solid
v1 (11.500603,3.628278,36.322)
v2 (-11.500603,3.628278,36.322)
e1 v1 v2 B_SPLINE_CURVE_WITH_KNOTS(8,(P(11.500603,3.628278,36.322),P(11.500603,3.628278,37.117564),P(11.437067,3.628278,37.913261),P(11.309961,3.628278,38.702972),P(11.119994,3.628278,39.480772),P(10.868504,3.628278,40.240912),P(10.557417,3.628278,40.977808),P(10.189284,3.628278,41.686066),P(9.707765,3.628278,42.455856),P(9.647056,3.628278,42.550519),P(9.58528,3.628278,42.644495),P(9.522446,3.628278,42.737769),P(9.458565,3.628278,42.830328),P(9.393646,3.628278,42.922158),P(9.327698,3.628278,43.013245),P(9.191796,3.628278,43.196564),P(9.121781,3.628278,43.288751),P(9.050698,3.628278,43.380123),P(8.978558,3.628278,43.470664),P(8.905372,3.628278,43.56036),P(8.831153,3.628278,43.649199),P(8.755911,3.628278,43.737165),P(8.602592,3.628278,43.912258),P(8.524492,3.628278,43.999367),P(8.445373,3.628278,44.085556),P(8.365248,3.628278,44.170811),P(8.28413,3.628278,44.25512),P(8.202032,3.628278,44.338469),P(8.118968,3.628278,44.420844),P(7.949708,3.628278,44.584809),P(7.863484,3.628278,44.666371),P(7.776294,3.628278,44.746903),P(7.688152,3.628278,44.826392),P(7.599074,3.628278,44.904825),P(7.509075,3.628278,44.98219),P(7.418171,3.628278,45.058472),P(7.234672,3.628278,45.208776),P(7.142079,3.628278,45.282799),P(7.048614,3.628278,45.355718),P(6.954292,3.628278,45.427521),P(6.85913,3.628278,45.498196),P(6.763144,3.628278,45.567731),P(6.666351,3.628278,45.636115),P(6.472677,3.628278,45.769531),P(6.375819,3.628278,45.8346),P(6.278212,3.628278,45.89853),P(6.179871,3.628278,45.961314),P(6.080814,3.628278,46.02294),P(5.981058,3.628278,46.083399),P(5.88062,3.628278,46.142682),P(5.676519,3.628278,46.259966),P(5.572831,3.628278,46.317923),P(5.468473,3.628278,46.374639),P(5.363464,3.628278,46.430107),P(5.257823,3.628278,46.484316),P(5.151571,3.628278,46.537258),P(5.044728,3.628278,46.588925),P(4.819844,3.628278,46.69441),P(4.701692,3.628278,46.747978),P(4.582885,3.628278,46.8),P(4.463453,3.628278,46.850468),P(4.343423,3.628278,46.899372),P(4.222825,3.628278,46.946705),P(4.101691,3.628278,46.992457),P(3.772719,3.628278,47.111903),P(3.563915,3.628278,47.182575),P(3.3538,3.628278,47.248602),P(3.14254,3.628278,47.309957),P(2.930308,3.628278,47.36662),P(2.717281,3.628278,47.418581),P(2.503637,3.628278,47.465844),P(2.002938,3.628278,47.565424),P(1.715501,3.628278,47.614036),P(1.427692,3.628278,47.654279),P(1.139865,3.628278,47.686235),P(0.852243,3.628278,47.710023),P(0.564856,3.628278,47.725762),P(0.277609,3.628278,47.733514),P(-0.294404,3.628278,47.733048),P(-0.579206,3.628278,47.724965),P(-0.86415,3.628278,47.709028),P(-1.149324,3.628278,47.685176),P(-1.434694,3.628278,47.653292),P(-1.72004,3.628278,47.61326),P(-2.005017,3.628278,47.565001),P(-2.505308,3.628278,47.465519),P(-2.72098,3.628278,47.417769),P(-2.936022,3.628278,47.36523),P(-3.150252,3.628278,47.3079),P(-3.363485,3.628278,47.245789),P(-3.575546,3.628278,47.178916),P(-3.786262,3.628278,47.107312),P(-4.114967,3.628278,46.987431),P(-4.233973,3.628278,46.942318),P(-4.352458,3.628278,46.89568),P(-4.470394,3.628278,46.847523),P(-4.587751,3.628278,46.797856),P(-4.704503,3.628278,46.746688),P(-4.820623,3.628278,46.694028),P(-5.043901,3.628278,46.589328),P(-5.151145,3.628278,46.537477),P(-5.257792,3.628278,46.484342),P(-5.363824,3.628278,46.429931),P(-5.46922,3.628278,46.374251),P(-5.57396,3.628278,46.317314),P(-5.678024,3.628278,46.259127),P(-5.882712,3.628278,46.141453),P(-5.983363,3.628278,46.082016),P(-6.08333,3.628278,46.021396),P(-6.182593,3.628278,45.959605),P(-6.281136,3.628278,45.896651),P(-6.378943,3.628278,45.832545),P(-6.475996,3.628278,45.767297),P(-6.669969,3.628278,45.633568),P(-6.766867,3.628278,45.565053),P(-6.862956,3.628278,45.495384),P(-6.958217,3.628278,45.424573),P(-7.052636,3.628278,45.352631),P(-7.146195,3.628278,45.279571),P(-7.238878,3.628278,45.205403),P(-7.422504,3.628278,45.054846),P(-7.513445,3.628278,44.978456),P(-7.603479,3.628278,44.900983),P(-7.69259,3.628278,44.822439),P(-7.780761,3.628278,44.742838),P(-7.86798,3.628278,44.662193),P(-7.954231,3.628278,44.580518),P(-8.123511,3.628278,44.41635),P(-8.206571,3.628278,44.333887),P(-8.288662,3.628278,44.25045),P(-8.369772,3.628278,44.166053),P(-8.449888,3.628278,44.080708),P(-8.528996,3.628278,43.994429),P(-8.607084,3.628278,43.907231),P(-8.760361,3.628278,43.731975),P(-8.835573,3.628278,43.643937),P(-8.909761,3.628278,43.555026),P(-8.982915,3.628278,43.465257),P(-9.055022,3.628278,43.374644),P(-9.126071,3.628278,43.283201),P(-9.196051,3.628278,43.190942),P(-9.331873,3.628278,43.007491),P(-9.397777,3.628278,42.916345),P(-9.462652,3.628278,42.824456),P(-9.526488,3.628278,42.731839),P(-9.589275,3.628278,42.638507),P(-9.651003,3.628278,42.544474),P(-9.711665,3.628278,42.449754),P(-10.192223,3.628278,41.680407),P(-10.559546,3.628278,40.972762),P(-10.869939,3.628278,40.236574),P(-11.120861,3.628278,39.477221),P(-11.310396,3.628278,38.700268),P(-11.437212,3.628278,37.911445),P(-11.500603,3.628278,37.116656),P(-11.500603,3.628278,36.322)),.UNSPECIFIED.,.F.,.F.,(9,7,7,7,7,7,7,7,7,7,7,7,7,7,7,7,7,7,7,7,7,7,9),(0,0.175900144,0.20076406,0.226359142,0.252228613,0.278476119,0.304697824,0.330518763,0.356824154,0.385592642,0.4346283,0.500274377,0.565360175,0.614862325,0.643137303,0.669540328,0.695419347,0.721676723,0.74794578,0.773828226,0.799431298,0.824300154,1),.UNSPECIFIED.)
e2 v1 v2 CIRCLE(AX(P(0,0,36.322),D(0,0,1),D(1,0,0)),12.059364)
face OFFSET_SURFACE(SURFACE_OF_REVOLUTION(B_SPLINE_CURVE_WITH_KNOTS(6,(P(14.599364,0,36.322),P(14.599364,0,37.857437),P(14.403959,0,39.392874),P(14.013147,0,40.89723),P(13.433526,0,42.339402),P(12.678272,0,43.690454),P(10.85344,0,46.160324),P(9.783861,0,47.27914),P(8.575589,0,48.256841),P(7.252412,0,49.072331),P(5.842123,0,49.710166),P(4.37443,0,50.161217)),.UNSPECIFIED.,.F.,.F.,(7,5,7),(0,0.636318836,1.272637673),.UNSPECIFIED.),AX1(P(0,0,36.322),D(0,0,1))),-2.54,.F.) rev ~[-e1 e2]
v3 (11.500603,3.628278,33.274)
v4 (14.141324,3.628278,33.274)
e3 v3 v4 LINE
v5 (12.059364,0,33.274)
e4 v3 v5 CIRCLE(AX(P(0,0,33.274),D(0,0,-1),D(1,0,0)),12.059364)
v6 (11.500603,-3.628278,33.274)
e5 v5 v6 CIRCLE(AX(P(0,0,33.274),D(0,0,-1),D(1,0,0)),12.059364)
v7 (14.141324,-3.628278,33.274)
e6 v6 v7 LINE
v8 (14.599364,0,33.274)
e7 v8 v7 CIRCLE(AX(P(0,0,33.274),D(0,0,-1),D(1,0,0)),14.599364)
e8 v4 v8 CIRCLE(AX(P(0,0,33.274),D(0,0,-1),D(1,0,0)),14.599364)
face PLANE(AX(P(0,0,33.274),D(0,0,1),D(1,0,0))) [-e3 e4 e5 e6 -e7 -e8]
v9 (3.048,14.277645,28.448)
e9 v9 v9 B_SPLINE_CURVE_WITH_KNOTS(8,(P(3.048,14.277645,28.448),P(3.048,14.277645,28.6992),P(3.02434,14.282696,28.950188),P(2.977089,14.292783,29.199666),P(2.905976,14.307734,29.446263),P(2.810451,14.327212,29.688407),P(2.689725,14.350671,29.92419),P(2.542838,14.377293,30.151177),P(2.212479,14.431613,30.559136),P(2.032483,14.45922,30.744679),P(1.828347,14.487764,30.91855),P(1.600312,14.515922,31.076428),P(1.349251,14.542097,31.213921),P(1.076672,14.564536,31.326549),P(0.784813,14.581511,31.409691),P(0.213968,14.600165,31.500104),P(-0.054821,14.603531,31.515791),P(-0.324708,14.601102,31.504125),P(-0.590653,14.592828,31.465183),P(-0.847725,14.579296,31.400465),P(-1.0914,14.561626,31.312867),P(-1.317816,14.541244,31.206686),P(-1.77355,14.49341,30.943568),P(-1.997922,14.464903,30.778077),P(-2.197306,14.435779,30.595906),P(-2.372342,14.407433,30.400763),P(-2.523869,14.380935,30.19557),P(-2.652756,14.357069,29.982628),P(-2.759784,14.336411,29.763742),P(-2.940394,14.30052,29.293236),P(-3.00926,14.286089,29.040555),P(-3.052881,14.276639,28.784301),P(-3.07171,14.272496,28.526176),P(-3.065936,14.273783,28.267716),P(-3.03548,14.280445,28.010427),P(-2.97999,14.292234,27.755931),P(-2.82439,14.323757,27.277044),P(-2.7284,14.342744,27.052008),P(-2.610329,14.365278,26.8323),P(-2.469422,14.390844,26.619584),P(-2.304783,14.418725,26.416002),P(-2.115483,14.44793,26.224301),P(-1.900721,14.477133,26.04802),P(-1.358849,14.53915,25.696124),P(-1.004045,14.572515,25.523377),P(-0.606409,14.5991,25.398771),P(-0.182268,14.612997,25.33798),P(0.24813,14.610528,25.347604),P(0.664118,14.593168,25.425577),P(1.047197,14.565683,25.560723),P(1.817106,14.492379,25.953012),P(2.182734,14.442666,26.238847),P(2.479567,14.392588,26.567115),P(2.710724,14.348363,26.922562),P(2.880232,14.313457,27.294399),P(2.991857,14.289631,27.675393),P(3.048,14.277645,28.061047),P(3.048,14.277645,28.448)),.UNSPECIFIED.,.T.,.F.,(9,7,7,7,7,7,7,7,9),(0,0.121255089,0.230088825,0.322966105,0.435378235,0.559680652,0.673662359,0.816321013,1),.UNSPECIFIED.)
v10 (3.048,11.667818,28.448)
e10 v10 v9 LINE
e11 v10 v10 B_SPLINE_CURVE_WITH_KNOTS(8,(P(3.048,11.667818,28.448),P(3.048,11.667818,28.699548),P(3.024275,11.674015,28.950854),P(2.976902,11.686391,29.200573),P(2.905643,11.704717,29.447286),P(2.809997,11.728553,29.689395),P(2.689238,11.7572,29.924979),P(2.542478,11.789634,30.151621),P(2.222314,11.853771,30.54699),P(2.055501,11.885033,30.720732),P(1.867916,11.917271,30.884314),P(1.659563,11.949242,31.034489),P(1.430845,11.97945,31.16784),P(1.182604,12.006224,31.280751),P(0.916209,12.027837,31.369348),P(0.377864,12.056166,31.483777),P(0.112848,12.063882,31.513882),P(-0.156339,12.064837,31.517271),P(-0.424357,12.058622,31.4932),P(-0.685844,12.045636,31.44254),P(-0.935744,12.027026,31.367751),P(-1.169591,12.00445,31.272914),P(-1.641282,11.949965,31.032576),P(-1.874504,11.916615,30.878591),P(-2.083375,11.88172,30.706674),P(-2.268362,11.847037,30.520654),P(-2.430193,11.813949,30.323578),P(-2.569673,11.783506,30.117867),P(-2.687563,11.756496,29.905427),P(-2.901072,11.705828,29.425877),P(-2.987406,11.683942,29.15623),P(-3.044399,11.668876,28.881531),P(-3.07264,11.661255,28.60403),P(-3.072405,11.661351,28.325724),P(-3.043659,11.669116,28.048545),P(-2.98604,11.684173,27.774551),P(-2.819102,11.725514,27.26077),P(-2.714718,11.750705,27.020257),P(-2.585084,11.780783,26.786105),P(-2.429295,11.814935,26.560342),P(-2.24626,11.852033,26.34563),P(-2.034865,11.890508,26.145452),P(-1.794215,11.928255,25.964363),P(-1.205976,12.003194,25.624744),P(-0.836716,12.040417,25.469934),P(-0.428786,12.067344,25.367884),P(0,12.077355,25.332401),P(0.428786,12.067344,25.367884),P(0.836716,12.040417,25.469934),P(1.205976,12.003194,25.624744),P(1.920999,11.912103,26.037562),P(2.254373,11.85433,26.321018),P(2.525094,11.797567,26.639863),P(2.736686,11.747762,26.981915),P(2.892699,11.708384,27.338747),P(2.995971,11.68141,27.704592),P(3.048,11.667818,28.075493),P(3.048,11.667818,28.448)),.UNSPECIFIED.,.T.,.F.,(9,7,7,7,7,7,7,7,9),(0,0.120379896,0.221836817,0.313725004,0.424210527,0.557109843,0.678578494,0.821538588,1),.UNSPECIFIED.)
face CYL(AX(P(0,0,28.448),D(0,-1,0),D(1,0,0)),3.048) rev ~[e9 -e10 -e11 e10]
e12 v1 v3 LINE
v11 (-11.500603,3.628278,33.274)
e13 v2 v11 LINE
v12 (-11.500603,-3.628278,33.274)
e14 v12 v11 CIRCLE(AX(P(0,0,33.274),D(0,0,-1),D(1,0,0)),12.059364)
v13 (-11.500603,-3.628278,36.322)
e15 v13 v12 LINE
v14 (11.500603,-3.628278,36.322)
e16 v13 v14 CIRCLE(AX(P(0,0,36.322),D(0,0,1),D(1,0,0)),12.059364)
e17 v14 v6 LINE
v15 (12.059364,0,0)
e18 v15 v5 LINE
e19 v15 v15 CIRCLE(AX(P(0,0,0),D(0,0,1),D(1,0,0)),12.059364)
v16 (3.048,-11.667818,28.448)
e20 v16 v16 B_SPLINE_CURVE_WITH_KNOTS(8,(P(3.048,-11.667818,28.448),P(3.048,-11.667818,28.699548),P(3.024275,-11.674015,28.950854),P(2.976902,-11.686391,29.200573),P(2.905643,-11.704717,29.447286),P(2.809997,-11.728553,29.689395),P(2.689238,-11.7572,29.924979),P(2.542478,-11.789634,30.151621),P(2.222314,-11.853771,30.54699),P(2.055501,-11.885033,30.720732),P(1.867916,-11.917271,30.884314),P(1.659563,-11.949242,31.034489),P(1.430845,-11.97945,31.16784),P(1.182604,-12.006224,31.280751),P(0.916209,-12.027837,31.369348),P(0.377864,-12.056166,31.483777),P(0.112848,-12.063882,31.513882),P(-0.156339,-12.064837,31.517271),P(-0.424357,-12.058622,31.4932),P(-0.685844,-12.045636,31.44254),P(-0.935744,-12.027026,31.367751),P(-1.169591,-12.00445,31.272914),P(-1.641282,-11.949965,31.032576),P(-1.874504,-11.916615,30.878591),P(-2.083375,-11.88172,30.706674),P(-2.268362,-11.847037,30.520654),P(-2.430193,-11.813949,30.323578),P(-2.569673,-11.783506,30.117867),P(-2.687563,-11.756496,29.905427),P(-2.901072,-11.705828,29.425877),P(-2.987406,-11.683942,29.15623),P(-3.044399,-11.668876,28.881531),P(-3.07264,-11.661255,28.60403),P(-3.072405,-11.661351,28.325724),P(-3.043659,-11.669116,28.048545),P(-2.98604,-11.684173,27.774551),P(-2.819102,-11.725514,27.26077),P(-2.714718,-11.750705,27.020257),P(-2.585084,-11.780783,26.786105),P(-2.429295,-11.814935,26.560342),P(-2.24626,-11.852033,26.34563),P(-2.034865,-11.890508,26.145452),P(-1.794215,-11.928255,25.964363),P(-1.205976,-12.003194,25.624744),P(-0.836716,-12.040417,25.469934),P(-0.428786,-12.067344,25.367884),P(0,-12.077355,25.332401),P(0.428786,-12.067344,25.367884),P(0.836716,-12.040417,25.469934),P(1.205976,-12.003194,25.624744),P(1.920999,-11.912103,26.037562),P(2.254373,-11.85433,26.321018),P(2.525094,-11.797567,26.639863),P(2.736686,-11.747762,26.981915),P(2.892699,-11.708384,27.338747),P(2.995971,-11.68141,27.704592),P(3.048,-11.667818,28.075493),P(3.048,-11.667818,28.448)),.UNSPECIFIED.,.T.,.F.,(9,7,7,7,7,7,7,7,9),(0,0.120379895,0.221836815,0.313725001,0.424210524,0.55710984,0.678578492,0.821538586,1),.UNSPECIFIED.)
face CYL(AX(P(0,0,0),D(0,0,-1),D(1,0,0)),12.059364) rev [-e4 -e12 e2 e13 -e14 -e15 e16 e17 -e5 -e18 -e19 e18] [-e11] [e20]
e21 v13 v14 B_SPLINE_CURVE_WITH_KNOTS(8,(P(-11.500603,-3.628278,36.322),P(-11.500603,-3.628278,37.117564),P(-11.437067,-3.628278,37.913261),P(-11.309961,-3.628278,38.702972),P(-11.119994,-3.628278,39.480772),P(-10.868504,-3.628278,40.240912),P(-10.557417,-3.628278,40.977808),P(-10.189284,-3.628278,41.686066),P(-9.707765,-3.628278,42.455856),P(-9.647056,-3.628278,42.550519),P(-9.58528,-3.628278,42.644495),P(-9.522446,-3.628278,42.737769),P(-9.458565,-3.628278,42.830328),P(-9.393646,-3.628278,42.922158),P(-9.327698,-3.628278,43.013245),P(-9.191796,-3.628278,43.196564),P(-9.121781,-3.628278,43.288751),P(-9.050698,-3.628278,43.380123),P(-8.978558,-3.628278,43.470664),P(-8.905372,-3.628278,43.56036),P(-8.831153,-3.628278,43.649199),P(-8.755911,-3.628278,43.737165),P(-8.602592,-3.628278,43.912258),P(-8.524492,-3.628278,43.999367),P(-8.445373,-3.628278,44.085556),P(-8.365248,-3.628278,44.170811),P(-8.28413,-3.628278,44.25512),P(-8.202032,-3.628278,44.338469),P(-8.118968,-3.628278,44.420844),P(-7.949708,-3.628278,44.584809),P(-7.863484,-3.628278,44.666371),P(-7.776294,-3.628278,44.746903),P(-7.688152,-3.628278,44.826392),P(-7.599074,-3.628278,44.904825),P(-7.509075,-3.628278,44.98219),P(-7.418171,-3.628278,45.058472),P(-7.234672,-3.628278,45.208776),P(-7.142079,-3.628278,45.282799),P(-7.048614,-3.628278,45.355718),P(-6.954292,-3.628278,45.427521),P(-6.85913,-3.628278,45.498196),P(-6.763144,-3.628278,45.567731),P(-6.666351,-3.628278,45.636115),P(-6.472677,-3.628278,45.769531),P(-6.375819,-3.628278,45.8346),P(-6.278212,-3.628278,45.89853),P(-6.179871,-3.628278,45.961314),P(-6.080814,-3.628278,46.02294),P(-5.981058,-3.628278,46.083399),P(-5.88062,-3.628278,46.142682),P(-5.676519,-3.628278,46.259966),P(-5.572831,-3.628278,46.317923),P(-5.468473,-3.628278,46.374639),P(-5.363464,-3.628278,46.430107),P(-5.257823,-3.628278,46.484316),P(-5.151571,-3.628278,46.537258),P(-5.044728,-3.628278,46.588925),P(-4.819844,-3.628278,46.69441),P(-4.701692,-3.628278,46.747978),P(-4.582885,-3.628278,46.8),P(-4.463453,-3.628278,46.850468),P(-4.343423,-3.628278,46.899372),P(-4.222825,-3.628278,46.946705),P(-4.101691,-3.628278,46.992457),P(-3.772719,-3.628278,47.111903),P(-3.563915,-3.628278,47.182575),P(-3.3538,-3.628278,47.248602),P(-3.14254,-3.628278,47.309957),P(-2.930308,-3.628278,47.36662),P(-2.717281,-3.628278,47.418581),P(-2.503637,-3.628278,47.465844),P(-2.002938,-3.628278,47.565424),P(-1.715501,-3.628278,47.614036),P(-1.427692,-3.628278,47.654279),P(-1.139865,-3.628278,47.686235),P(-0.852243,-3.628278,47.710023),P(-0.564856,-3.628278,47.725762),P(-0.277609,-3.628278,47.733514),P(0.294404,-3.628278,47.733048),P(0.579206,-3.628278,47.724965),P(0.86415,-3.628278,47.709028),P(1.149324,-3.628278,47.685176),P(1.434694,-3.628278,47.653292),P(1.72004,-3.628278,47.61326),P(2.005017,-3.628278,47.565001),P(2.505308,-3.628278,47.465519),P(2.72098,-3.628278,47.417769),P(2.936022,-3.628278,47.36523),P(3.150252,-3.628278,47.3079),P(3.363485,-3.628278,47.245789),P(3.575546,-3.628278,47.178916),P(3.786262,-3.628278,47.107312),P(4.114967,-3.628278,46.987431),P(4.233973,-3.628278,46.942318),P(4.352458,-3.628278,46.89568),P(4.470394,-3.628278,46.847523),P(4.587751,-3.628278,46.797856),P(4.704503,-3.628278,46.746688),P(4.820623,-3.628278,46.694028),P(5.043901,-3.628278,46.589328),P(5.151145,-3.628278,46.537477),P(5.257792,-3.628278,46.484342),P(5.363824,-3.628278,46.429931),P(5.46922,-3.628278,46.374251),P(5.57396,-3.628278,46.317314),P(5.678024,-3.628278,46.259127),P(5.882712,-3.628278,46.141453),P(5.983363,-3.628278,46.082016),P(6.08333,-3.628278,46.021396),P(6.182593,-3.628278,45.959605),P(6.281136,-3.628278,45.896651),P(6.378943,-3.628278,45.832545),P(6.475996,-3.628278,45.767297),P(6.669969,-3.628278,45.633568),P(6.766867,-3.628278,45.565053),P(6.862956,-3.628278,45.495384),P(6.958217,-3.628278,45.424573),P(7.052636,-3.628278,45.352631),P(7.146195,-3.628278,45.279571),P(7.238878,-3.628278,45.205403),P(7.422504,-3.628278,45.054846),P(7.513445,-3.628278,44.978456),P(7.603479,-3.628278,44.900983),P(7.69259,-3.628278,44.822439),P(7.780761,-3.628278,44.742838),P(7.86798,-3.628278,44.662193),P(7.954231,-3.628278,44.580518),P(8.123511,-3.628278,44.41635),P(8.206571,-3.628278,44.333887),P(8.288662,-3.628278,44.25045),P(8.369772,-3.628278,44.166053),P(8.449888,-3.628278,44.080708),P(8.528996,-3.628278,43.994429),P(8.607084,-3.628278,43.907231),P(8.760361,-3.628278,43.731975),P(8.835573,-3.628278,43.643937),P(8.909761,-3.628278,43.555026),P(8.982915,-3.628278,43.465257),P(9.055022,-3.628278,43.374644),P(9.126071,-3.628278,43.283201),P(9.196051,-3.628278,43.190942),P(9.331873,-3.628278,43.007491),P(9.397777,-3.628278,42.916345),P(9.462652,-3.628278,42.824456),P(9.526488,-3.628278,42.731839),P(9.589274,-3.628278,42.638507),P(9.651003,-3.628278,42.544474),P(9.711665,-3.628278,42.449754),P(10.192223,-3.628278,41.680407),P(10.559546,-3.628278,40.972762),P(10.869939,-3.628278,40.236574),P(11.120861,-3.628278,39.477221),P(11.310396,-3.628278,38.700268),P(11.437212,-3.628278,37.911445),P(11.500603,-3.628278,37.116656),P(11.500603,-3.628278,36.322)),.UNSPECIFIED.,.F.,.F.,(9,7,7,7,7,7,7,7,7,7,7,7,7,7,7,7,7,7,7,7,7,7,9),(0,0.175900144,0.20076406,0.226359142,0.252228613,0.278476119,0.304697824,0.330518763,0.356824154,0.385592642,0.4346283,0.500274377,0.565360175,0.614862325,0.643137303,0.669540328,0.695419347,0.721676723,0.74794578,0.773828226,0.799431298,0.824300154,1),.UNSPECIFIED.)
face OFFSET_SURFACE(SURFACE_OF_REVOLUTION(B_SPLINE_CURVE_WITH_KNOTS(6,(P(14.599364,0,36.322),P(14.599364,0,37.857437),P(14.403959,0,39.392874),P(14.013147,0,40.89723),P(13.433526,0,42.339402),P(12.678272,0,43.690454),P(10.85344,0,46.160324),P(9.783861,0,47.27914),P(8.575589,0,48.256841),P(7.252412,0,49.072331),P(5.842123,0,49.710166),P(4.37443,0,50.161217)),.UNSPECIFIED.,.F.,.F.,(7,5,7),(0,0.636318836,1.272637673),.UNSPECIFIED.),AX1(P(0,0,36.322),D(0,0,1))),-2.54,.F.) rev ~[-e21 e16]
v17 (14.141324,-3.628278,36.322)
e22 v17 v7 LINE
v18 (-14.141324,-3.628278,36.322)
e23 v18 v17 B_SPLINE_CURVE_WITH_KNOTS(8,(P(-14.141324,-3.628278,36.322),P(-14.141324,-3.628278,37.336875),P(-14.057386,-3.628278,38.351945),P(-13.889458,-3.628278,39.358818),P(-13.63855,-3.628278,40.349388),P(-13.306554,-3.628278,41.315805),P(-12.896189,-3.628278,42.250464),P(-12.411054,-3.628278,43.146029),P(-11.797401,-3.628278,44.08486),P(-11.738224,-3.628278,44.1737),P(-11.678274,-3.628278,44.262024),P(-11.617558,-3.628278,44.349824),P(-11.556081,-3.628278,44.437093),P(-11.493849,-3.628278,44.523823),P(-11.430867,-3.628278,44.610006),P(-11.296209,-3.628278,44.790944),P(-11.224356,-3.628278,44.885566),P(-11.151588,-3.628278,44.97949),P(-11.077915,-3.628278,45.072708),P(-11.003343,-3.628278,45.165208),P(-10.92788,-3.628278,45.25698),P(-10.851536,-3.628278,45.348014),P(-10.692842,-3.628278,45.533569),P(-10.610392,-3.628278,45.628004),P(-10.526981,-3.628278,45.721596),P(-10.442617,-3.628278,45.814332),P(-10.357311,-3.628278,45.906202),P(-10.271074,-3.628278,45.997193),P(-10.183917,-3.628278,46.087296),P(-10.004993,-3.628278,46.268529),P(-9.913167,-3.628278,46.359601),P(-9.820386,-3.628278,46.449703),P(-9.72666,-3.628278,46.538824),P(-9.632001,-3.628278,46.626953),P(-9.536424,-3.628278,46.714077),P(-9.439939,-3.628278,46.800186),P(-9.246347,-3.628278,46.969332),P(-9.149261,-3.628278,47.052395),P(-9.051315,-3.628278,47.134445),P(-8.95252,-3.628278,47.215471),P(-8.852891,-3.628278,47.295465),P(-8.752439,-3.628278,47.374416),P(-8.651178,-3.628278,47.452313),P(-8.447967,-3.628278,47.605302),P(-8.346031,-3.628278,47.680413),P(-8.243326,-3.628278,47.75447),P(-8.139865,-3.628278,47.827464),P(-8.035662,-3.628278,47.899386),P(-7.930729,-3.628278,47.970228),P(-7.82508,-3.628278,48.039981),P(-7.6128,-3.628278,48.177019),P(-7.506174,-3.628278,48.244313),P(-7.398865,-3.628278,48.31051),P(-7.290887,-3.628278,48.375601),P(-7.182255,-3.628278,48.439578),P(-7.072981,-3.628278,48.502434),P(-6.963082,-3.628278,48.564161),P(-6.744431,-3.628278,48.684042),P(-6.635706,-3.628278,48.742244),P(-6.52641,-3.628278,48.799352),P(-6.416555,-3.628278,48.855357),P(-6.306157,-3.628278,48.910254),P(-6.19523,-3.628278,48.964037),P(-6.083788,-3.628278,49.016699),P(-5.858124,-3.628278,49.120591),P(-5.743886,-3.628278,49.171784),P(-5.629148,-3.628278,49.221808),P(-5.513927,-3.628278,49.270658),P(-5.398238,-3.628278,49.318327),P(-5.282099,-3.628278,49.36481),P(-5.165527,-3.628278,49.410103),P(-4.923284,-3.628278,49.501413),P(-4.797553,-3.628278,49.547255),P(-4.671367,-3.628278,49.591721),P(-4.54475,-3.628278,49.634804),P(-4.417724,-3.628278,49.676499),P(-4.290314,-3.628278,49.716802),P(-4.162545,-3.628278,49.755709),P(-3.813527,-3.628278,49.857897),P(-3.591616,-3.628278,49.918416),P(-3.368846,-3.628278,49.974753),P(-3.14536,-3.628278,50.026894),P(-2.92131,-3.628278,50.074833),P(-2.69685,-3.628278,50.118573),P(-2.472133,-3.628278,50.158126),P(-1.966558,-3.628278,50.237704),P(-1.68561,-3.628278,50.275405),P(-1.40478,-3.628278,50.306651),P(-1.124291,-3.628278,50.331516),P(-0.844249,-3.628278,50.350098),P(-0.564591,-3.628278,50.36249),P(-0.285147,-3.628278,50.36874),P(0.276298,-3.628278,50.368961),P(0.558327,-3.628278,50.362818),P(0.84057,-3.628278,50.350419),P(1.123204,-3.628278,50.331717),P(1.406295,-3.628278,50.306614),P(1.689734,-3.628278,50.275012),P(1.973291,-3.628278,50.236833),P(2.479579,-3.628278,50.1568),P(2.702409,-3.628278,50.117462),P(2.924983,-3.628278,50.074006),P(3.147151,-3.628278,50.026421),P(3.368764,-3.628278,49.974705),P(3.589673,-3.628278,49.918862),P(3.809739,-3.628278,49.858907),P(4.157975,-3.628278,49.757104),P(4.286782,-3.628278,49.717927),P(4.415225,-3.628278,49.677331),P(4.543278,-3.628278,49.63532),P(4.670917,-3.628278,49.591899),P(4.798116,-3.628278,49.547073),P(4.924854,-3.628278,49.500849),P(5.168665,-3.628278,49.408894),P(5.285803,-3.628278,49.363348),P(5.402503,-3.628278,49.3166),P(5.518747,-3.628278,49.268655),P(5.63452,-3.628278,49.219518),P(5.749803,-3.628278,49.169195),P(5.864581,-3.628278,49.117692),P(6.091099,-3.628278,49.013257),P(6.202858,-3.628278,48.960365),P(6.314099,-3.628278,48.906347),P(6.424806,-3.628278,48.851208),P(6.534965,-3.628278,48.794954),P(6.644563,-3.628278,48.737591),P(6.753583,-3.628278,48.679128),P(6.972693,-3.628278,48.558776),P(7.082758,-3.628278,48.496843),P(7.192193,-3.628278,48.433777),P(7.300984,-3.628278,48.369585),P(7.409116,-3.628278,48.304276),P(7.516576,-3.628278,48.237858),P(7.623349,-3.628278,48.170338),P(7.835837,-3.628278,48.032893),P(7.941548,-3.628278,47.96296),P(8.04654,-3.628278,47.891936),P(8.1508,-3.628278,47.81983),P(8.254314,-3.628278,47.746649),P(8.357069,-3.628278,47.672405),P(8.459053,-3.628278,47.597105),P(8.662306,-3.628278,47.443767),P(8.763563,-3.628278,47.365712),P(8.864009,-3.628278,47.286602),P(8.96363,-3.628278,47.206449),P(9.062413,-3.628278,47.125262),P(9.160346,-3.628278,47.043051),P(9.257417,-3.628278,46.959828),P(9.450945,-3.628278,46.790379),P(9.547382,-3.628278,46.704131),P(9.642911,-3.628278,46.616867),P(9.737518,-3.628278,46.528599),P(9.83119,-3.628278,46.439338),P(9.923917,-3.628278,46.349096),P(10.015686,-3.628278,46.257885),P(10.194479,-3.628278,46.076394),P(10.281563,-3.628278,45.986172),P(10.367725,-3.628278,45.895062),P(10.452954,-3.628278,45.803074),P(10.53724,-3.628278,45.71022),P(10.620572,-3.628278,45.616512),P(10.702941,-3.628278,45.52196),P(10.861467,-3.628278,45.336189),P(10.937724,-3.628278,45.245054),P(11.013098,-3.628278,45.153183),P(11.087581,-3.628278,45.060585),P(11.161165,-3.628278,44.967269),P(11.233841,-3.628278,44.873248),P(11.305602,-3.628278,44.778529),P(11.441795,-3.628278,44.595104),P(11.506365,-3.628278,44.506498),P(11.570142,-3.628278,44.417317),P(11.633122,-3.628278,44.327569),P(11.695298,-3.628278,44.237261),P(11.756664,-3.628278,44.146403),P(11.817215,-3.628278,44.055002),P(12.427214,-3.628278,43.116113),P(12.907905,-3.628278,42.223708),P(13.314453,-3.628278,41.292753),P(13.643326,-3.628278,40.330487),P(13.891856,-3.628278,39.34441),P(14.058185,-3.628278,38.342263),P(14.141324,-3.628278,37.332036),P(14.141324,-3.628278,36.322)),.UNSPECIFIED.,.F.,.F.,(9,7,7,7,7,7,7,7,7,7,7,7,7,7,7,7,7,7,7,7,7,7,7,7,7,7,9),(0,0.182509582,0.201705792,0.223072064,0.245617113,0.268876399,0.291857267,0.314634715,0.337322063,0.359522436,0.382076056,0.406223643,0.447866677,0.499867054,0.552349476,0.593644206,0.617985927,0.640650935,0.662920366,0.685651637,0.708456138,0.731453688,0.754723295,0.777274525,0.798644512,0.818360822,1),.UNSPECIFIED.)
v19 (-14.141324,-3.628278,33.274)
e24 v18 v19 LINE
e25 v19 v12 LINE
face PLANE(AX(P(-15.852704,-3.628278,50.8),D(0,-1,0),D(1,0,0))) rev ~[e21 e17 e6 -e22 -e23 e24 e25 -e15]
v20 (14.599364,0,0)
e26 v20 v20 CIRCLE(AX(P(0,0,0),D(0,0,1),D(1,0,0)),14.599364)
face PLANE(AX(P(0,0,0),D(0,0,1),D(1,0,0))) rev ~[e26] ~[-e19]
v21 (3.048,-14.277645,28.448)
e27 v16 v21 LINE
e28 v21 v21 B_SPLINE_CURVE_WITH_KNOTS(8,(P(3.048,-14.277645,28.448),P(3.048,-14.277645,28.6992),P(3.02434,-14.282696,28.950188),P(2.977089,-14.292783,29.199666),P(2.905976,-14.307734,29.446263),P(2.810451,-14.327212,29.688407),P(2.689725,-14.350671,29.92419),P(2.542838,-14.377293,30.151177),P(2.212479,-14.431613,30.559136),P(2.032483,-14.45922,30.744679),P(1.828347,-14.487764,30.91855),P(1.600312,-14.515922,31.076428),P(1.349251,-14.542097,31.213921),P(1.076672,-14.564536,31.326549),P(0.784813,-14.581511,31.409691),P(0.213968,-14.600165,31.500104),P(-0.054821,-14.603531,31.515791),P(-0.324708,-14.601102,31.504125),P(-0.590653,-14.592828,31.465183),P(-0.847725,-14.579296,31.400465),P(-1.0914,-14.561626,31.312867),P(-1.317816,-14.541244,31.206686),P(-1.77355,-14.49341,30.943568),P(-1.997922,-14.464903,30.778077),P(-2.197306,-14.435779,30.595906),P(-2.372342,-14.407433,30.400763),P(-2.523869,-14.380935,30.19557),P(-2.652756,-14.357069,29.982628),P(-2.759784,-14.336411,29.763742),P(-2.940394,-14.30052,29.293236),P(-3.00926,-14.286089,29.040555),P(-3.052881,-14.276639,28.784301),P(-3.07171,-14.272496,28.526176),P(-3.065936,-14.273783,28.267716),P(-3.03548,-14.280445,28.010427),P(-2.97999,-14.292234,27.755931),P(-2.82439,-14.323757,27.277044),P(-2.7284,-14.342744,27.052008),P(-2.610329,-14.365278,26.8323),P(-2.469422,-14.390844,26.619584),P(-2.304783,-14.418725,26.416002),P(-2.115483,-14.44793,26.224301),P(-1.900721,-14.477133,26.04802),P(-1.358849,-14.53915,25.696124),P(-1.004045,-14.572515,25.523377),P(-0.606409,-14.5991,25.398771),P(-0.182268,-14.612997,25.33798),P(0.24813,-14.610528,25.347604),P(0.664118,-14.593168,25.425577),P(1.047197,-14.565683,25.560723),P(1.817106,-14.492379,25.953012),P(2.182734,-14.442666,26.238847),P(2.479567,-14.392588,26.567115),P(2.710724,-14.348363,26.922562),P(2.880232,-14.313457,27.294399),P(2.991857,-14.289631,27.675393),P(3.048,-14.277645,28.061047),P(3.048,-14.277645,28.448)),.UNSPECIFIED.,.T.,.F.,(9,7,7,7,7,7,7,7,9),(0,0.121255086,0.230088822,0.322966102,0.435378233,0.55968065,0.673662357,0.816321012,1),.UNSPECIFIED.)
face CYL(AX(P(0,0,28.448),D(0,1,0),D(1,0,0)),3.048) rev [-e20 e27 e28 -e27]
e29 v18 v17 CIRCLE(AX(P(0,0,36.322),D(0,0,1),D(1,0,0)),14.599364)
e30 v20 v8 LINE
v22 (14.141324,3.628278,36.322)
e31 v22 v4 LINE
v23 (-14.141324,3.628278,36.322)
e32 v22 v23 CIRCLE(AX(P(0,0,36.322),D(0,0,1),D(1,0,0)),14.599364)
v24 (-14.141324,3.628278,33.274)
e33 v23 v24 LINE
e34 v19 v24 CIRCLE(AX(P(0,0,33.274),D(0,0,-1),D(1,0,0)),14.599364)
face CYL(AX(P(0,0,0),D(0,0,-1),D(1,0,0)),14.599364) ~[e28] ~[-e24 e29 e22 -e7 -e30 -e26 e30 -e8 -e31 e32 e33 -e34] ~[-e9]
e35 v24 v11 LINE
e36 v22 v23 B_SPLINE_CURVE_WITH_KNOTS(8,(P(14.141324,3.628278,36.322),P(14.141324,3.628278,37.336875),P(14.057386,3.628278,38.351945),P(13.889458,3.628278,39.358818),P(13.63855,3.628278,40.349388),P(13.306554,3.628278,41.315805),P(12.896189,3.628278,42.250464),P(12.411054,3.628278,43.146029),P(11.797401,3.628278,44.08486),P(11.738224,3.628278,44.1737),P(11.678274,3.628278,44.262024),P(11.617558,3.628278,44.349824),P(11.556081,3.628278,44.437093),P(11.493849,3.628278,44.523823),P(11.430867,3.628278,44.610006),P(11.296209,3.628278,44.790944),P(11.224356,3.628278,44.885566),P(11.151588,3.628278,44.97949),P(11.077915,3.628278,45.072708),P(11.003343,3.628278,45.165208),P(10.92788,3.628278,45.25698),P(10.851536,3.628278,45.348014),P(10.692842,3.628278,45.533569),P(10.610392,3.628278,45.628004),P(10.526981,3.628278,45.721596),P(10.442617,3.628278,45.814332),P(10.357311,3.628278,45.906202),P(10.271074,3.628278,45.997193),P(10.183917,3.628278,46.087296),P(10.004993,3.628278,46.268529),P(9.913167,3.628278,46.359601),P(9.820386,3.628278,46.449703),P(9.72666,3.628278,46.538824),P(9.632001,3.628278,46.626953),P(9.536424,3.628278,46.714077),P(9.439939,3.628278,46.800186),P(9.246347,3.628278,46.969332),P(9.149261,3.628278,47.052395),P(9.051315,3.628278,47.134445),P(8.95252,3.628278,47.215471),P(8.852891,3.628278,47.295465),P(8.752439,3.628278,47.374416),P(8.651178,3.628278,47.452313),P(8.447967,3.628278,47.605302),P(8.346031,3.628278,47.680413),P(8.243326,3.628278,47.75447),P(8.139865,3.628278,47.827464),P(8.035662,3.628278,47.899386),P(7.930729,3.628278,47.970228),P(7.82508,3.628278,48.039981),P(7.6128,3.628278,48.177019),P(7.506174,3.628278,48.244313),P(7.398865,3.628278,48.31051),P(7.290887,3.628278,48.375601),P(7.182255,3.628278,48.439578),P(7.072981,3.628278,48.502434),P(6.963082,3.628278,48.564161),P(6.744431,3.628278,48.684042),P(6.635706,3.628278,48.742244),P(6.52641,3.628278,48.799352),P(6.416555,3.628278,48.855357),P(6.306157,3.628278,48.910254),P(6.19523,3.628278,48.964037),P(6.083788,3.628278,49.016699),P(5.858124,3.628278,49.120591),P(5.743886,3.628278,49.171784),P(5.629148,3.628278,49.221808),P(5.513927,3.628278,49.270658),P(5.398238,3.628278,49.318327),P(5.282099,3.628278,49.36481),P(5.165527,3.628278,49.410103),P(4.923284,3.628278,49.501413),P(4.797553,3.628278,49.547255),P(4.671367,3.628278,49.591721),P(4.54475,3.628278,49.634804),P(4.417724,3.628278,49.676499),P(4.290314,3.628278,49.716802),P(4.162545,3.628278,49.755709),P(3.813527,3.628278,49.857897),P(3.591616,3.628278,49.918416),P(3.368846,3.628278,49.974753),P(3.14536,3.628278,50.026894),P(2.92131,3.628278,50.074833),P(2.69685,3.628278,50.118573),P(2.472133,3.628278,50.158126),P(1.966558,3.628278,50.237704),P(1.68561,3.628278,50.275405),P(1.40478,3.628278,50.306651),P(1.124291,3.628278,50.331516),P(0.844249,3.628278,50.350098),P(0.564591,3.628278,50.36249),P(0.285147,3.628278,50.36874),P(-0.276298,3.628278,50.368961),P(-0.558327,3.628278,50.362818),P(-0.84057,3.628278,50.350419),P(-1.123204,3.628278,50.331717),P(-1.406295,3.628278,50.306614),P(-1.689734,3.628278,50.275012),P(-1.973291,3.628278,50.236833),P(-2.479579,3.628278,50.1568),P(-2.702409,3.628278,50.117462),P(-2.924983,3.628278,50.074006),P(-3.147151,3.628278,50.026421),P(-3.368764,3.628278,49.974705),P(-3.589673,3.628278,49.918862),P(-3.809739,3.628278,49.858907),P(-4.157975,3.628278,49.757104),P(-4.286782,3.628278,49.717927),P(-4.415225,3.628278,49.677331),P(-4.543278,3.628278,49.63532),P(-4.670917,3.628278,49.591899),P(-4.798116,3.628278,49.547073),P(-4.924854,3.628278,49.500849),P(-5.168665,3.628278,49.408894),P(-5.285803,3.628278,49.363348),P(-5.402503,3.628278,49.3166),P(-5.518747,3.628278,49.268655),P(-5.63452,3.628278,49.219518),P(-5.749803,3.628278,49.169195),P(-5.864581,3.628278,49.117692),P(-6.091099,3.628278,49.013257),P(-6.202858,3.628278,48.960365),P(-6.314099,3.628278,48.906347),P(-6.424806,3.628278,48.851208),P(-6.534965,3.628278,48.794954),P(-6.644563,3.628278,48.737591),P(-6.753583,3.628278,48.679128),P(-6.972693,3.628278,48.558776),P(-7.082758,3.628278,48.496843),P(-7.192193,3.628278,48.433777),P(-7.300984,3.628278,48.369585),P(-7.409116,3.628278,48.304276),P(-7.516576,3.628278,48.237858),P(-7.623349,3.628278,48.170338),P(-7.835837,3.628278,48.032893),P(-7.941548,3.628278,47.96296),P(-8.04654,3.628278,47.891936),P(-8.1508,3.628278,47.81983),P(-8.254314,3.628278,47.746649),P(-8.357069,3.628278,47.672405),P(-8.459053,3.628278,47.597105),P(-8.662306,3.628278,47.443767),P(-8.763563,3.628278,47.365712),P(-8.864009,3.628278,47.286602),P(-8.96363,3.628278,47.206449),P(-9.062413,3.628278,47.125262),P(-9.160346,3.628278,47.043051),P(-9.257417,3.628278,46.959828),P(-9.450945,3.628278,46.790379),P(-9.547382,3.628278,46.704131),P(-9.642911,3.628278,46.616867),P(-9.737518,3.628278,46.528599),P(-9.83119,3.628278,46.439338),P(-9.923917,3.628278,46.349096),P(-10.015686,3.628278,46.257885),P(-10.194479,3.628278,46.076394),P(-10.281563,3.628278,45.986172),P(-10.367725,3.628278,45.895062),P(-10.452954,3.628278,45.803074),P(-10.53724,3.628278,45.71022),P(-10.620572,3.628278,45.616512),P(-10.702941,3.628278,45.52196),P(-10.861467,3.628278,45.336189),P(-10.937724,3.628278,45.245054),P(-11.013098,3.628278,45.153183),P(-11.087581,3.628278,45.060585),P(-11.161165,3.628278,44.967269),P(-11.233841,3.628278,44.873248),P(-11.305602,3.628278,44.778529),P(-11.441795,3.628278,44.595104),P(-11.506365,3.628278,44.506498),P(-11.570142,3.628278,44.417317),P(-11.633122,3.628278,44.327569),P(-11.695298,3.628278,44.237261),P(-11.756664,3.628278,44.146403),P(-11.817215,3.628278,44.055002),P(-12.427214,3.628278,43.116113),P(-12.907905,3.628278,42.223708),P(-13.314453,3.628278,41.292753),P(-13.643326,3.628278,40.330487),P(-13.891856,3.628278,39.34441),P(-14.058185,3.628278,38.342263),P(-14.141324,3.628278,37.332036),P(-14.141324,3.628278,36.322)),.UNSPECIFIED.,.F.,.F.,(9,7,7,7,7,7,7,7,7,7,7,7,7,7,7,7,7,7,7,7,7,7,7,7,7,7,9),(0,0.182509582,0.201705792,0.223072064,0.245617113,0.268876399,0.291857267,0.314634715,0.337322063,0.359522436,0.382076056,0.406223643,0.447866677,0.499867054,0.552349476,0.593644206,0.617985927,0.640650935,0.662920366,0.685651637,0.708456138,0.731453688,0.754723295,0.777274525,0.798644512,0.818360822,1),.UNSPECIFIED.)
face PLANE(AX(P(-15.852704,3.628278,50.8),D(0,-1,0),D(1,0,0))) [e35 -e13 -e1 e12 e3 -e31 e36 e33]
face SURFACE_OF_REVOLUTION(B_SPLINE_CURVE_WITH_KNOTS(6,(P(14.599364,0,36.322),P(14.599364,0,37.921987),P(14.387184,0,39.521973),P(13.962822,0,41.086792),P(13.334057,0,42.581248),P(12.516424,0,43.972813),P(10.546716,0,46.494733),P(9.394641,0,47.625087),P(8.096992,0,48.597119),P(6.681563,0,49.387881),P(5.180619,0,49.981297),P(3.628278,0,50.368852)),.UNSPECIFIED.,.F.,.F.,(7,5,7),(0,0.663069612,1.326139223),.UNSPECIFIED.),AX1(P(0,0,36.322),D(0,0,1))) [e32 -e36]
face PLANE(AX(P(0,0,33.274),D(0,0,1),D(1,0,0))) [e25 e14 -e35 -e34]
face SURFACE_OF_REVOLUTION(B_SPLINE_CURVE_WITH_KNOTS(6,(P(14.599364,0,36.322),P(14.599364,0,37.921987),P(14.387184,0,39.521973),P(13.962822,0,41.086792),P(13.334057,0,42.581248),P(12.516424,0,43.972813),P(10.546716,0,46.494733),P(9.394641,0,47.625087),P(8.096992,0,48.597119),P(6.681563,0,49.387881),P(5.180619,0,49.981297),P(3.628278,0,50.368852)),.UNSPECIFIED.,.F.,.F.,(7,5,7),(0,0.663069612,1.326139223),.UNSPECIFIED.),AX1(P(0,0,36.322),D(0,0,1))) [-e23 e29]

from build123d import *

# Parameters (mm, degrees)
F0_R      = 14.5993643937
F1_DEPTH  = 50.8
F2_R      = 14.478
F3_T      = -2.54
F4_W      = 31.7054085236
F4_H      = 7.25655691
F4_R      = 0.1213643937
F1_FACE_R = 0.1213643937
F3_FACE_R = 0.1213643937
F5_DEPTH  = 17.526
F6_R      = 3.048
F7_DEPTH  = 23.876
F8_R      = 3.048
F9_DEPTH  = 37.592


with BuildPart() as f1:
    # F0 (on Top) → F1 (new body)
    with BuildSketch(Plane.XY):
        Circle(F0_R)
    extrude(amount=F1_DEPTH)

    # F2
    f2_edges = [f1.edges().sort_by_distance(p)[0] for p in [
        (-14.599364, 0, 50.8),
    ]]
    fillet(f2_edges, radius=F2_R)

    # F3
    f3_openings = [f1.faces().sort_by_distance(p)[0] for p in [
        (0, 0, 0),
    ]]
    offset(amount=F3_T, openings=f3_openings)

    # F4 (on face) + F1_face (on face) + F3_face (on face) → F5 (cut)
    with BuildSketch(Plane.XY.offset(50.8)):
        Rectangle(F4_W, F4_H)
        Circle(F4_R, mode=Mode.SUBTRACT)
    with BuildSketch(Plane.XY.offset(50.8)):
        Circle(F1_FACE_R)
    with BuildSketch(Plane(origin=(0, 0, 48.26), x_dir=(1, 0, 0), z_dir=(0, 0, -1))):
        Circle(F3_FACE_R)
    extrude(amount=-F5_DEPTH, dir=(0, 0, 1), mode=Mode.SUBTRACT)

    # F6 (on Front) → F7 (cut)
    with BuildSketch(Plane.XZ):
        with Locations((0, 28.448)):
            Circle(F6_R)
    extrude(amount=-F7_DEPTH, mode=Mode.SUBTRACT)

    # F8 (on Front) → F9 (cut)
    with BuildSketch(Plane.XZ):
        with Locations((0, 28.448)):
            Circle(F8_R)
    extrude(amount=F9_DEPTH, mode=Mode.SUBTRACT)


solid = f1.part
